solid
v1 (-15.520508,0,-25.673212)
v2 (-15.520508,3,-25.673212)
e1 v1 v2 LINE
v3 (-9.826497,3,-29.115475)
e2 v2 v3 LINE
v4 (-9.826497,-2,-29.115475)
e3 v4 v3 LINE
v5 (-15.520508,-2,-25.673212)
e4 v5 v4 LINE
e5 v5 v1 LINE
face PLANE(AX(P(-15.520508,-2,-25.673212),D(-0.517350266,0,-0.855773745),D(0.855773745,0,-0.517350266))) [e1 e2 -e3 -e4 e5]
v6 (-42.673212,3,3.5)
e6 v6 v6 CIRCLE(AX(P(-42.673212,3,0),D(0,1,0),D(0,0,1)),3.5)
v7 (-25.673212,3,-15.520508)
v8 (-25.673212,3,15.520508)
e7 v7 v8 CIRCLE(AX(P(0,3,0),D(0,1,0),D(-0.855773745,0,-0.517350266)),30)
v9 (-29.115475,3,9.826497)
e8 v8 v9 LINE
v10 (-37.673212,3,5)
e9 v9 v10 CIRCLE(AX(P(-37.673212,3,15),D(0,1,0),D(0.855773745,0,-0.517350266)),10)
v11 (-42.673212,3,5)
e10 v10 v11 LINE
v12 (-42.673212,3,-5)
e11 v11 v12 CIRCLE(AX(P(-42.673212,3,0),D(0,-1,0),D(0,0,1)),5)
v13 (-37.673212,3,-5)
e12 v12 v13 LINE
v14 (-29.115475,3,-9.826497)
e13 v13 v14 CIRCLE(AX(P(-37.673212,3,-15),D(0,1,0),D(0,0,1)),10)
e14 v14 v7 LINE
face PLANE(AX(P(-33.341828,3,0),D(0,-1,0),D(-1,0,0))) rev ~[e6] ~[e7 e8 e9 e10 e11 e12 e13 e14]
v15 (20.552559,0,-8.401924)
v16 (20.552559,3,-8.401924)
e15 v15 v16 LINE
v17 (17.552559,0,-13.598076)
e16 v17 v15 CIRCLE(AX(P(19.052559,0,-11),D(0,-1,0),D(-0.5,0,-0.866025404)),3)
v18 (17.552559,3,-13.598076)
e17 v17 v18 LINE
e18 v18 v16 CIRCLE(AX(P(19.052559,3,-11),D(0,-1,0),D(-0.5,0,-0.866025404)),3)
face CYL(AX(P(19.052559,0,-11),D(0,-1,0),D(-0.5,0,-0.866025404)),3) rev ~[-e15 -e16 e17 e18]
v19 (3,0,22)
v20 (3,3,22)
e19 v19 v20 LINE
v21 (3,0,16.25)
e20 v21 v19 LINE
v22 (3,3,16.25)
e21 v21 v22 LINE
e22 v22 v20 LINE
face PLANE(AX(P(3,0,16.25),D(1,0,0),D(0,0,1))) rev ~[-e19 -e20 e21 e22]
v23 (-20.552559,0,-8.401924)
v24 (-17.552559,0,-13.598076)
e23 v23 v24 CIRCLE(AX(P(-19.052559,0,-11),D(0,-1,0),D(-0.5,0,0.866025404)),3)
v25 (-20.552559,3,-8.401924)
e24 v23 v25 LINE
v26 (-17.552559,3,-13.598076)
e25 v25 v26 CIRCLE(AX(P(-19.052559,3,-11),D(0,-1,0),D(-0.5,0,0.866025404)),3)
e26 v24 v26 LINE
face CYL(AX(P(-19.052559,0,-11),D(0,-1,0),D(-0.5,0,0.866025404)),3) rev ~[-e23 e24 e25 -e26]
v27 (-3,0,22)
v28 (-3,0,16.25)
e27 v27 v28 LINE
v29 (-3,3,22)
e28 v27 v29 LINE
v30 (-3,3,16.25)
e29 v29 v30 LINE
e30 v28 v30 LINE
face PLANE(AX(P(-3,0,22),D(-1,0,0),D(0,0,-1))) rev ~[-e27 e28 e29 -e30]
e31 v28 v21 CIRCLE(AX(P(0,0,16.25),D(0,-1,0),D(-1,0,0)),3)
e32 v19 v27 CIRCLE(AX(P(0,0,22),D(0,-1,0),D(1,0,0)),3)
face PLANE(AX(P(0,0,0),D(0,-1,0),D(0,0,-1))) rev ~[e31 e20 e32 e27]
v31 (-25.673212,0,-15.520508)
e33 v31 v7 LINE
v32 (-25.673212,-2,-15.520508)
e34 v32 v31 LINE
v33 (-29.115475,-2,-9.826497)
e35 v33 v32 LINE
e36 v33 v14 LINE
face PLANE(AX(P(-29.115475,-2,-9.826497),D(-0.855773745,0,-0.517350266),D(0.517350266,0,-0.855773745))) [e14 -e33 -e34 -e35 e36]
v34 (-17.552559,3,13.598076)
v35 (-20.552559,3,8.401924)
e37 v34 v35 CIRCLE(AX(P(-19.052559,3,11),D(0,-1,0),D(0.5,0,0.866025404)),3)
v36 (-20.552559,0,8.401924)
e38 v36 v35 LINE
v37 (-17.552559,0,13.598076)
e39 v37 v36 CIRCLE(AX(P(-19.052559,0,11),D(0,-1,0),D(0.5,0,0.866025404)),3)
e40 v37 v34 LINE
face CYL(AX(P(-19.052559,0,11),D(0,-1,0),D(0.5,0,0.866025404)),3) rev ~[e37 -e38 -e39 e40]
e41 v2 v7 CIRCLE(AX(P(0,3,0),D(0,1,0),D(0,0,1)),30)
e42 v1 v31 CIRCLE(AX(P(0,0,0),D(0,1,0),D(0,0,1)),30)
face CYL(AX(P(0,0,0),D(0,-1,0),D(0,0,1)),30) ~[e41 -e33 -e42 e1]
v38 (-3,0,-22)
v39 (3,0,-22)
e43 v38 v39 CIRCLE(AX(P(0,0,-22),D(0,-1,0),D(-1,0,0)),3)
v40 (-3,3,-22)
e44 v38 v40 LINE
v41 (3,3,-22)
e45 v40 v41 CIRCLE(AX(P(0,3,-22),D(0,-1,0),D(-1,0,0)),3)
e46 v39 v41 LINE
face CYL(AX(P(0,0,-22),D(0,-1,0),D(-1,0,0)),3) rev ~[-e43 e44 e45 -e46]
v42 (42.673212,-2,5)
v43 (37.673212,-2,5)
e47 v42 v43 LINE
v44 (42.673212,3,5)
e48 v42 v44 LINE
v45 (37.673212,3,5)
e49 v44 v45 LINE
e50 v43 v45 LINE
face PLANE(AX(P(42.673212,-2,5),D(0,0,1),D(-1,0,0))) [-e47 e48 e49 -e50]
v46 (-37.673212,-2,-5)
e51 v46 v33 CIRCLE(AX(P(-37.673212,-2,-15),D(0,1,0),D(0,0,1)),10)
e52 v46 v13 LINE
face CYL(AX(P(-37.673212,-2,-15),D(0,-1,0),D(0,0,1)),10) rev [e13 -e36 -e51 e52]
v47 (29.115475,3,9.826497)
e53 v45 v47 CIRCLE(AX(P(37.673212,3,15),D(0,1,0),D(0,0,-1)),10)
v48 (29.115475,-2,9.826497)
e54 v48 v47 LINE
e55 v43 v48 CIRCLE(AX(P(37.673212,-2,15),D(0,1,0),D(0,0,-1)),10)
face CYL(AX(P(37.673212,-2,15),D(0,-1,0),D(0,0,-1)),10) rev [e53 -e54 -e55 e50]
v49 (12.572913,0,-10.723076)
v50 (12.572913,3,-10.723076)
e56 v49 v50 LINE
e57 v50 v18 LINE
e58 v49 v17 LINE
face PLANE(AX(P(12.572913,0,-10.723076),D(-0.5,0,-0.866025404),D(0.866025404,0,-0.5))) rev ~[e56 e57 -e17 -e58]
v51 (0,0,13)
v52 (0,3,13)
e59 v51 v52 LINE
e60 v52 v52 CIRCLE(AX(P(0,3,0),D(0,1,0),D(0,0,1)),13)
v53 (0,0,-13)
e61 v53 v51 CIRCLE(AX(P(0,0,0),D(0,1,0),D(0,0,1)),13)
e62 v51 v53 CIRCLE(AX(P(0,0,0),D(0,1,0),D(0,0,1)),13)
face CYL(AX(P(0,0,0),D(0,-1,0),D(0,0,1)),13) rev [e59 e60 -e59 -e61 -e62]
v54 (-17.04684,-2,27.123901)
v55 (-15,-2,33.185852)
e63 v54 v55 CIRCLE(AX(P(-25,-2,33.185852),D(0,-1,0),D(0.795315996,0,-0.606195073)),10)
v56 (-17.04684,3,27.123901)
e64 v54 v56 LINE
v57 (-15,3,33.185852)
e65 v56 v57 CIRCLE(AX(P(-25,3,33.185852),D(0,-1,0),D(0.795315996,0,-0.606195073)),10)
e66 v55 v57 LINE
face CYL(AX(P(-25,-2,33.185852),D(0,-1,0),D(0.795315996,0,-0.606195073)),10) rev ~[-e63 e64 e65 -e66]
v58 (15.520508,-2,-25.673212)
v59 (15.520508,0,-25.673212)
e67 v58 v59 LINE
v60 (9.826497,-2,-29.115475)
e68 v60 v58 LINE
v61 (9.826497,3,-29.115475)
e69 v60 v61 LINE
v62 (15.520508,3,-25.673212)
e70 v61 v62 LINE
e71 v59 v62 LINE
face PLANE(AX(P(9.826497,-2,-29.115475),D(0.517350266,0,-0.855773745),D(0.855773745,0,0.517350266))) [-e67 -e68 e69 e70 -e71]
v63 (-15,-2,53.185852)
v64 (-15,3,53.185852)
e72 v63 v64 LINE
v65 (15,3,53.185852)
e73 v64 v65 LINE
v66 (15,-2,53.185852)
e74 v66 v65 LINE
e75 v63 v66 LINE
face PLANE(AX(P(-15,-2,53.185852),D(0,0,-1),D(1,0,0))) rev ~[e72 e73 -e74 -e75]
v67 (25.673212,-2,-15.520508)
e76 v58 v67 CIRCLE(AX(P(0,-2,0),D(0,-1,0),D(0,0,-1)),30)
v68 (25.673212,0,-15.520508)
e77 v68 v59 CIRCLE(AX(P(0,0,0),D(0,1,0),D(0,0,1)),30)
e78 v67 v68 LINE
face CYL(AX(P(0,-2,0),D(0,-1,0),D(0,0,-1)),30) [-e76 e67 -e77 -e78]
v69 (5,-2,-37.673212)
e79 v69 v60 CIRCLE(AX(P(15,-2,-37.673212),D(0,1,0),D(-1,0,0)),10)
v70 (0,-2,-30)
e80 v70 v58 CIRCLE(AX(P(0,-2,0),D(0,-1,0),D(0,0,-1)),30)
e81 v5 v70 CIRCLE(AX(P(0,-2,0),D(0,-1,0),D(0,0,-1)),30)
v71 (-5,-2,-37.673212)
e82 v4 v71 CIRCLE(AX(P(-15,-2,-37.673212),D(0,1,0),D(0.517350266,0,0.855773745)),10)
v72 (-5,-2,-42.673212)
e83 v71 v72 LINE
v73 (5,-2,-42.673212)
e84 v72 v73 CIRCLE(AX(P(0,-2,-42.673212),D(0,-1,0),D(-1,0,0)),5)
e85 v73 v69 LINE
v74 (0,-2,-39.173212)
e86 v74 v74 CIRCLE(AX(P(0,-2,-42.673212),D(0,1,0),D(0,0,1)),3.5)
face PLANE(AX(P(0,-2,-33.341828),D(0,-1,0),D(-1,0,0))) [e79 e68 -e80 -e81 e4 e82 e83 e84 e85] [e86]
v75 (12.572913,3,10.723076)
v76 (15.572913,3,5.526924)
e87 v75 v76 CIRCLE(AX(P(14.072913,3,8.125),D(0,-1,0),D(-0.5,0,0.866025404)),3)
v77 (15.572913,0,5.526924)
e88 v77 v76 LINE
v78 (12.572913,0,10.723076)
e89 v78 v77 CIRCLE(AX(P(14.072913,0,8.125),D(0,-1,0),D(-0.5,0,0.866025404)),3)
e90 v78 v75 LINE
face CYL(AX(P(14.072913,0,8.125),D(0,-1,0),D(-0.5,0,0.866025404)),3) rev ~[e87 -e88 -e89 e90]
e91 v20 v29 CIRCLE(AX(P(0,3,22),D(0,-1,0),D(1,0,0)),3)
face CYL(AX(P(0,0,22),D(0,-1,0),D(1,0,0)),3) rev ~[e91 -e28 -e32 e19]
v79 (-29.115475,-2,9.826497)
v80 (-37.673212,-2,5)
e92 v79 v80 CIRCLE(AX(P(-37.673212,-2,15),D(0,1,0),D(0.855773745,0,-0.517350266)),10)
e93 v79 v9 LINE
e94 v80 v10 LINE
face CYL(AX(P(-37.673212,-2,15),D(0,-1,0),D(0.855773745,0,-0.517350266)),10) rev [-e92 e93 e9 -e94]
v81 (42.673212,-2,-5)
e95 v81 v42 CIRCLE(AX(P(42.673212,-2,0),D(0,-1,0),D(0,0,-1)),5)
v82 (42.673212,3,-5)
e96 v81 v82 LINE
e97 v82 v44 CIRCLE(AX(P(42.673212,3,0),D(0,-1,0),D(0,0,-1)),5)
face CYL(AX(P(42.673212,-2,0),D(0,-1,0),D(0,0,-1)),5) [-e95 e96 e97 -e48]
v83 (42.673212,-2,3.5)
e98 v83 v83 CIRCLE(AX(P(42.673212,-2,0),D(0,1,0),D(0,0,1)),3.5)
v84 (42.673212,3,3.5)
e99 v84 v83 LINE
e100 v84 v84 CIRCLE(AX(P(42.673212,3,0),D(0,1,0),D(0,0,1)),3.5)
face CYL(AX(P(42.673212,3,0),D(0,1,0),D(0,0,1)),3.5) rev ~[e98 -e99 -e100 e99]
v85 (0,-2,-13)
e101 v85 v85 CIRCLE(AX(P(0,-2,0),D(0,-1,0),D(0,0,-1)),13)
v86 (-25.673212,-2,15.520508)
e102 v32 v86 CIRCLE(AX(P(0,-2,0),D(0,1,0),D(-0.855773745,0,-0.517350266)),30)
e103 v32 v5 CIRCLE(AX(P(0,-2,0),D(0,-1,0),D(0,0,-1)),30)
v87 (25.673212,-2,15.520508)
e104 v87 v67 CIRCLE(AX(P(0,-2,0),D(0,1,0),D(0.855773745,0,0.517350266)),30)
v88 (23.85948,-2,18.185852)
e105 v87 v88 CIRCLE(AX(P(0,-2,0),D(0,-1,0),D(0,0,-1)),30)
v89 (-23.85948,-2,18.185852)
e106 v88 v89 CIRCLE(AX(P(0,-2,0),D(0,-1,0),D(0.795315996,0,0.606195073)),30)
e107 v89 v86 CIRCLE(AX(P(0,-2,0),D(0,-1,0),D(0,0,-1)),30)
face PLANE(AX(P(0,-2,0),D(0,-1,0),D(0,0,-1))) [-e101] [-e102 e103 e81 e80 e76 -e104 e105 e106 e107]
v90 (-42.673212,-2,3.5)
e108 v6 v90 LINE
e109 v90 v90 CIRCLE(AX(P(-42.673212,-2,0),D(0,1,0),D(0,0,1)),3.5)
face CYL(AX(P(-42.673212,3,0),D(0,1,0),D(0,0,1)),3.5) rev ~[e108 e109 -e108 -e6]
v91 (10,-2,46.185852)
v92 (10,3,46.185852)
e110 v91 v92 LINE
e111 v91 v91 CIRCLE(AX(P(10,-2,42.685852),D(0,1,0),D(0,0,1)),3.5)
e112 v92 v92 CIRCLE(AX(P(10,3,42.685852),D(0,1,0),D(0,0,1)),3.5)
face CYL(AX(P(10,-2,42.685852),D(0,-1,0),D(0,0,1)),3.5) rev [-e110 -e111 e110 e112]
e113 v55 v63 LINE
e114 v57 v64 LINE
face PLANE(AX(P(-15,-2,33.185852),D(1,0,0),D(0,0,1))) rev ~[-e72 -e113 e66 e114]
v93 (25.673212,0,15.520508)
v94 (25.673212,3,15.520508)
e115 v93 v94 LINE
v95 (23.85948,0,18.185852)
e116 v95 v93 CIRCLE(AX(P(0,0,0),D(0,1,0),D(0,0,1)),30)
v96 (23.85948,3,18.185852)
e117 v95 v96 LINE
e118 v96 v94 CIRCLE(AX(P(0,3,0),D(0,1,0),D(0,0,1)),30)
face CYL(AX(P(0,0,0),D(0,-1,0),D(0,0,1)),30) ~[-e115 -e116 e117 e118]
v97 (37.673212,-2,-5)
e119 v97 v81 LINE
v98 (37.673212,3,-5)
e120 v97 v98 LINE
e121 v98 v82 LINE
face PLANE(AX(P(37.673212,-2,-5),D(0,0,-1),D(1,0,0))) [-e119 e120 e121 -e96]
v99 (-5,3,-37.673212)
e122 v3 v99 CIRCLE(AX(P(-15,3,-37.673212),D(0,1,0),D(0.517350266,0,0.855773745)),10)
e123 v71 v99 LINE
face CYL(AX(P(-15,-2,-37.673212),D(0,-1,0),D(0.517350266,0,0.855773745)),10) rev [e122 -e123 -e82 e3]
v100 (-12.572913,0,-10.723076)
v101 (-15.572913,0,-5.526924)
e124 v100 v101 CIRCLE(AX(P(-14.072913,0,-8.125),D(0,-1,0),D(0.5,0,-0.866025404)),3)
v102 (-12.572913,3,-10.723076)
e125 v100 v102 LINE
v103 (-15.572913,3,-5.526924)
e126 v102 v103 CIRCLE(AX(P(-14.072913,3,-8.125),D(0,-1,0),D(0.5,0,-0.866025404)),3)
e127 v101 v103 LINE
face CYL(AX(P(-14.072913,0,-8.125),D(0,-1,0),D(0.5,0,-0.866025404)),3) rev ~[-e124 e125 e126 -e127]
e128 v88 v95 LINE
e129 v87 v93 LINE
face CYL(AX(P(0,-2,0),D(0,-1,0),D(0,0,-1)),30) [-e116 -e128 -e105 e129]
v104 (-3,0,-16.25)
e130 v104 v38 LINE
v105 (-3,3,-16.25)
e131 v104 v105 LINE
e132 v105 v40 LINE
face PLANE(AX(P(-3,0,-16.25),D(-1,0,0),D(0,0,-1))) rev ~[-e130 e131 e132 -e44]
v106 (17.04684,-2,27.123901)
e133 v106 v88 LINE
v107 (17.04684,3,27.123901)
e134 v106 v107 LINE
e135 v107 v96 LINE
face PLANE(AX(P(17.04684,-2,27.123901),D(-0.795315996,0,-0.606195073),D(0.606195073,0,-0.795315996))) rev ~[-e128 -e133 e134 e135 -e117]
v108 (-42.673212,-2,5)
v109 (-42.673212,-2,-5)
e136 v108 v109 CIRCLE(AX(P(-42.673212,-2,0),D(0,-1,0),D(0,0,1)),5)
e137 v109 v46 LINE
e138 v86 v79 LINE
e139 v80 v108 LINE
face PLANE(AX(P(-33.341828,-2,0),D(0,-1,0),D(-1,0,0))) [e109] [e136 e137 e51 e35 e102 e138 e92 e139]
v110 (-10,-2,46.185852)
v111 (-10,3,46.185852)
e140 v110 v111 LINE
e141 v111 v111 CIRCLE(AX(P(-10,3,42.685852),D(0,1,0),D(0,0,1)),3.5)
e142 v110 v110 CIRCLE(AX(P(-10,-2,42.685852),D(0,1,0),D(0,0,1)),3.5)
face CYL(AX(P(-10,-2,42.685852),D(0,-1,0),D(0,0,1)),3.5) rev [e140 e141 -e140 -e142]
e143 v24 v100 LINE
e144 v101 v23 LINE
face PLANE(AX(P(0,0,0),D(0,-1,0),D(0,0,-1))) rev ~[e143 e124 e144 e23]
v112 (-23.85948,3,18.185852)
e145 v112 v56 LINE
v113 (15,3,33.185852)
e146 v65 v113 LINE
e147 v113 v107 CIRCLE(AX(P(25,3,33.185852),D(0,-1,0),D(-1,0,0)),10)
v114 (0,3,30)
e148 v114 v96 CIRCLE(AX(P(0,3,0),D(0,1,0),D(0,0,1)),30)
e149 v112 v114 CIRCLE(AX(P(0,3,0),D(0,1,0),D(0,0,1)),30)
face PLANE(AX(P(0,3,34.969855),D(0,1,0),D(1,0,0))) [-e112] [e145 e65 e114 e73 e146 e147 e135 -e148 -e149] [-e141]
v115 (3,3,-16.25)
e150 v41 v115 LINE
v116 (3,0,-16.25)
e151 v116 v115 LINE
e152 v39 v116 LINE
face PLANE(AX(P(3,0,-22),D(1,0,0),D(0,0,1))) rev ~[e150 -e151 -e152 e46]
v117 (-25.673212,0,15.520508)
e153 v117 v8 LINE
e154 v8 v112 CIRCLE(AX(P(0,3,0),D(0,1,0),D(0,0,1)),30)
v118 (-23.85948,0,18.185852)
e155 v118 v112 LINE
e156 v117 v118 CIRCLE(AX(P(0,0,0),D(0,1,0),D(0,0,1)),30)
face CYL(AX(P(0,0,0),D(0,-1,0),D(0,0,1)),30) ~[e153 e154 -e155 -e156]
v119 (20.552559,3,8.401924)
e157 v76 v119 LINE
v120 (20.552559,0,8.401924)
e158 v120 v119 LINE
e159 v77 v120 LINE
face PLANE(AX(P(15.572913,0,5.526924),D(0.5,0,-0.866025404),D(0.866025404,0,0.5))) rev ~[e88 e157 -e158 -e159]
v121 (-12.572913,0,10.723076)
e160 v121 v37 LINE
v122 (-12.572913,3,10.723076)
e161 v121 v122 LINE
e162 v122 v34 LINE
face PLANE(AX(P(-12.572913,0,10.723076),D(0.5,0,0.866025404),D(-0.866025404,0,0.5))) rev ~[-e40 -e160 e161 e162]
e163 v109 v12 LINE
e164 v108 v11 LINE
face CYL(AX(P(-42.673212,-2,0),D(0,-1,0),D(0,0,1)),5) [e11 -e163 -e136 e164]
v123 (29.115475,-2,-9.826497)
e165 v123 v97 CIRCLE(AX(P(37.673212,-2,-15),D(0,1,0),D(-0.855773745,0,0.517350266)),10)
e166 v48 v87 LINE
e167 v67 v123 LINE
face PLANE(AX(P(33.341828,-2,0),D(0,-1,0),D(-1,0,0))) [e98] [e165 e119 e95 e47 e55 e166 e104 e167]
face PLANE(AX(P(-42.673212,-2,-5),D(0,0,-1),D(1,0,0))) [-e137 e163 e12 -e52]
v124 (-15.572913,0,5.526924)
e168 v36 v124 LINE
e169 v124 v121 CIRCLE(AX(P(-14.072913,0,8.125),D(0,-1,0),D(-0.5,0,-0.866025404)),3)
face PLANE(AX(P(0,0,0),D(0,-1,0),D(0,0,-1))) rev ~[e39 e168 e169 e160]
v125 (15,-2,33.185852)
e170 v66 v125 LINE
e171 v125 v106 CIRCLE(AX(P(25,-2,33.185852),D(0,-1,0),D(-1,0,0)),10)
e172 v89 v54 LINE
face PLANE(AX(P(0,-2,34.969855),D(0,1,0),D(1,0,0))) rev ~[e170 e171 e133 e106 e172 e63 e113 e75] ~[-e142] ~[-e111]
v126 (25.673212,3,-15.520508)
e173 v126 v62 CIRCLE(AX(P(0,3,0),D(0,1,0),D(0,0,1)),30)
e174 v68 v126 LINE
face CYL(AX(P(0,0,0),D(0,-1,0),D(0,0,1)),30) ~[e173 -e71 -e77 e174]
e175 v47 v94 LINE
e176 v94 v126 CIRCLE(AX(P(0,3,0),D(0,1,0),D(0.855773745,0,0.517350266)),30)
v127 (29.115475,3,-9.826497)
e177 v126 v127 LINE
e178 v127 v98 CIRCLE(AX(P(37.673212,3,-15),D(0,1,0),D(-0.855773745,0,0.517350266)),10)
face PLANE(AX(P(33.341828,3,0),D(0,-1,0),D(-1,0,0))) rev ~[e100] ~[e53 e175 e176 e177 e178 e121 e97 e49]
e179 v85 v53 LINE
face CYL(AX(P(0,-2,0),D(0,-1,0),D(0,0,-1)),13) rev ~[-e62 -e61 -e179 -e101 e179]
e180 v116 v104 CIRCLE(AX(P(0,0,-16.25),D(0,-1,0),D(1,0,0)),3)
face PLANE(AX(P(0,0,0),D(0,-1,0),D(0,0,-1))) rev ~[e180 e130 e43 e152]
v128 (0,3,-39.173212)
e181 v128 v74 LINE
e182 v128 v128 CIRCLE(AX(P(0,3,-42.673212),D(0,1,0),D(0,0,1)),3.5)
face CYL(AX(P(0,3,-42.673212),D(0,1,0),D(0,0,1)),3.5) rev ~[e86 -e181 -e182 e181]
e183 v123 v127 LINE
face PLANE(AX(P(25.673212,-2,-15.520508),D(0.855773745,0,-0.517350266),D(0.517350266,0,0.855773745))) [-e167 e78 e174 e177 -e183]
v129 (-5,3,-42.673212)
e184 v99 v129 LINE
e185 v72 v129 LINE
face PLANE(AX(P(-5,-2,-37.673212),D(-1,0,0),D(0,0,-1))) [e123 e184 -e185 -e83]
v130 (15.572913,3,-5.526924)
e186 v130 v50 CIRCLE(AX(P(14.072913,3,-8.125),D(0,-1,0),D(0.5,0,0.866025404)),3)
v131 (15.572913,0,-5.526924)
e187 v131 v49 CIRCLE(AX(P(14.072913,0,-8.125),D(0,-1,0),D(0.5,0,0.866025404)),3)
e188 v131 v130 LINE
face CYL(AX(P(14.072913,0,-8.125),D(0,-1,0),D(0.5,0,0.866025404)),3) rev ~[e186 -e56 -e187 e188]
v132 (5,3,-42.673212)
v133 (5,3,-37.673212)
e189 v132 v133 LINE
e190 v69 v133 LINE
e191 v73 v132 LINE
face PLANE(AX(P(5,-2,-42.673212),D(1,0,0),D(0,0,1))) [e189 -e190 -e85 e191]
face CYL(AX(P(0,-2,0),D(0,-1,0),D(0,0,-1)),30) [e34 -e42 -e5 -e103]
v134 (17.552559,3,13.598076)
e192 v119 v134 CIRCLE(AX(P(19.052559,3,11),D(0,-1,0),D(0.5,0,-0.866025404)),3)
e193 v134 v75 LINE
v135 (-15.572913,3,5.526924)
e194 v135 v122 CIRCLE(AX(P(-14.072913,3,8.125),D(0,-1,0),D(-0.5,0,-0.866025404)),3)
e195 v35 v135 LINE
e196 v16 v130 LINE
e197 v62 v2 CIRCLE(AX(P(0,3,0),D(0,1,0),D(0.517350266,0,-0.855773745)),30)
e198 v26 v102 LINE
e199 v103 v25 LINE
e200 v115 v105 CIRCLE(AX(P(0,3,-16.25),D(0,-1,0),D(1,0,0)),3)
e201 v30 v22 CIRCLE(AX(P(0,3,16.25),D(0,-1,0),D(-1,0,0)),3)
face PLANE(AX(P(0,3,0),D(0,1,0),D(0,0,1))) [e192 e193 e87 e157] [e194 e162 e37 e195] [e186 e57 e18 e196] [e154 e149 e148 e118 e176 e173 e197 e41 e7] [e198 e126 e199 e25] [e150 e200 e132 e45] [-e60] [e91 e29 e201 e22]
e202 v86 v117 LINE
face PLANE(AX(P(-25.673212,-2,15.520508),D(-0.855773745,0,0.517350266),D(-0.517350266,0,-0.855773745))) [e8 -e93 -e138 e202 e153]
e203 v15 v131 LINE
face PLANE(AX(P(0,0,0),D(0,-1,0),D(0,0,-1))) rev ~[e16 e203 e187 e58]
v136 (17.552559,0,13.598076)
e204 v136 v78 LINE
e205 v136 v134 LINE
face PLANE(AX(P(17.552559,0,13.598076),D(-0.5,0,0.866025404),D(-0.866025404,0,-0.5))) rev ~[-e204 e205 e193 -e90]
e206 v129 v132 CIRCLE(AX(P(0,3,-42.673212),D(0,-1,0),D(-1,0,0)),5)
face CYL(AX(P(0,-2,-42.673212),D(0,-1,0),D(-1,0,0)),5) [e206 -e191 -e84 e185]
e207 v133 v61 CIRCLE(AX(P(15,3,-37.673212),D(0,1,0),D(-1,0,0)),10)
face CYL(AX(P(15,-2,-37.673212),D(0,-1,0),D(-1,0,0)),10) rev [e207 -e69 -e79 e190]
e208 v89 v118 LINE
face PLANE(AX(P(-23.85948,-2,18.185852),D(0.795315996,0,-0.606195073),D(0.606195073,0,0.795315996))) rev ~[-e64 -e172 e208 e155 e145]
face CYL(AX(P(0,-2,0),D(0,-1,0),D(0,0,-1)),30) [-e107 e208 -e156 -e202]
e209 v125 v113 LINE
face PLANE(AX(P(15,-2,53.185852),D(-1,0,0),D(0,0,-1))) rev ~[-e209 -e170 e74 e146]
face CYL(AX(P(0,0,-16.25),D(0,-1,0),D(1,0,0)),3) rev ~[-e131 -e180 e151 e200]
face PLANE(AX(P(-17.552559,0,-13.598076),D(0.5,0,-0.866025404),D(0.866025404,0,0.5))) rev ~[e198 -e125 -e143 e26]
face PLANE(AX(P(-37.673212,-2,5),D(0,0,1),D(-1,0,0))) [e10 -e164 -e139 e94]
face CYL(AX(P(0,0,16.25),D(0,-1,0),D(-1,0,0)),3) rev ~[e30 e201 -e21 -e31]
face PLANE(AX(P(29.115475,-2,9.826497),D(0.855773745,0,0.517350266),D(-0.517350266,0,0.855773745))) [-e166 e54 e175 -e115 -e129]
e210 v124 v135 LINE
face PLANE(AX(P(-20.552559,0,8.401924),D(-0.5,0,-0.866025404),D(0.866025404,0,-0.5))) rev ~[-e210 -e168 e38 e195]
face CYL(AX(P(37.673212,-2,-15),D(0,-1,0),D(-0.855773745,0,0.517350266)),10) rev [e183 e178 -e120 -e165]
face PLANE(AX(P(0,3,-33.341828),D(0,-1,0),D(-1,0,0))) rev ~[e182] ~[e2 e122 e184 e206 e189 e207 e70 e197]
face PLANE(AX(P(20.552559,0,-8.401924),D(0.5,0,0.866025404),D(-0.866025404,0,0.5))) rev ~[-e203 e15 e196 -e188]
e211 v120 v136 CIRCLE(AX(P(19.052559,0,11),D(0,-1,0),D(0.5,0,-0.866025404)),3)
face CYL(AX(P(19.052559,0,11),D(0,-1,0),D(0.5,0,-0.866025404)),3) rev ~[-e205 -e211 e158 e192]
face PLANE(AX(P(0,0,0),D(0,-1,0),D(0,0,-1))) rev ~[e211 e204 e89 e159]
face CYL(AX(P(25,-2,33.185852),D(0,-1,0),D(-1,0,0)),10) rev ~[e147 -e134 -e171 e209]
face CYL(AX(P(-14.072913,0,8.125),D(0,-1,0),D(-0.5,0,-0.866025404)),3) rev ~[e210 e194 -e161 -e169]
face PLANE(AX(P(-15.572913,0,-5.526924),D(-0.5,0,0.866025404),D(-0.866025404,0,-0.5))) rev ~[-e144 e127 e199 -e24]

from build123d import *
from build123d.topology import SkipClean

# Parameters (mm, degrees)
ESQUISSE1_R             = 30
ESQUISSE1_R_2           = 13
BOSS_EXTRU_1_DEPTH      = 3
BOSS_EXTRU_2_START      = 2
ESQUISSE2_R             = 30
ESQUISSE2_R_2           = 13
BOSS_EXTRU_2_DEPTH      = 2
BOSS_EXTRU_3_START      = -5
ESQUISSE3_R             = 3.5
BOSS_EXTRU_3_DEPTH      = 5
ESQUISSE4_R             = 3.5
ENL_V_MAT_EXTRU_1_DEPTH = 72.599371852


with BuildPart() as part:
    # Esquisse1 → Boss.-Extru.1 (new body)
    with BuildSketch(Plane(origin=(0, 0, 0), x_dir=(1, 0, 0), z_dir=(0, 1, 0))):
        with Locations(Location((0, 0, 0), (0, 0, 270))):
            Circle(ESQUISSE1_R)
        with Locations(Location((0, 0, 0), (0, 0, 270))):
            Circle(ESQUISSE1_R_2, mode=Mode.SUBTRACT)
        with BuildLine():
            Line((-3, 16.25), (-3, 22))
            ThreePointArc((-3, 22), (0, 25), (3, 22))
            Line((3, 22), (3, 16.25))
            ThreePointArc((3, 16.25), (0, 13.25), (-3, 16.25))
        make_face(mode=Mode.SUBTRACT)
        with BuildLine():
            Line((12.572912811, 10.723076211), (17.552558883, 13.598076211))
            ThreePointArc((17.552558883, 13.598076211), (21.650635095, 12.5), (20.552558883, 8.401923789))
            Line((20.552558883, 8.401923789), (15.572912811, 5.526923789))
            ThreePointArc((15.572912811, 5.526923789), (11.4748366, 6.625), (12.572912811, 10.723076211))
        make_face(mode=Mode.SUBTRACT)
        with BuildLine():
            Line((15.572912811, -5.526923789), (20.552558883, -8.401923789))
            ThreePointArc((20.552558883, -8.401923789), (21.650635095, -12.5), (17.552558883, -13.598076211))
            Line((17.552558883, -13.598076211), (12.572912811, -10.723076211))
            ThreePointArc((12.572912811, -10.723076211), (11.4748366, -6.625), (15.572912811, -5.526923789))
        make_face(mode=Mode.SUBTRACT)
        with BuildLine():
            Line((3, -16.25), (3, -22))
            ThreePointArc((3, -22), (0, -25), (-3, -22))
            Line((-3, -22), (-3, -16.25))
            ThreePointArc((-3, -16.25), (0, -13.25), (3, -16.25))
        make_face(mode=Mode.SUBTRACT)
        with BuildLine():
            Line((-12.572912811, -10.723076211), (-17.552558883, -13.598076211))
            ThreePointArc((-17.552558883, -13.598076211), (-21.650635095, -12.5), (-20.552558883, -8.401923789))
            Line((-20.552558883, -8.401923789), (-15.572912811, -5.526923789))
            ThreePointArc((-15.572912811, -5.526923789), (-11.4748366, -6.625), (-12.572912811, -10.723076211))
        make_face(mode=Mode.SUBTRACT)
        with BuildLine():
            Line((-15.572912811, 5.526923789), (-20.552558883, 8.401923789))
            ThreePointArc((-20.552558883, 8.401923789), (-21.650635095, 12.5), (-17.552558883, 13.598076211))
            Line((-17.552558883, 13.598076211), (-12.572912811, 10.723076211))
            ThreePointArc((-12.572912811, 10.723076211), (-11.4748366, 6.625), (-15.572912811, 5.526923789))
        make_face(mode=Mode.SUBTRACT)
    extrude(amount=BOSS_EXTRU_1_DEPTH)

    # Esquisse2 → Boss.-Extru.2 (add)
    with BuildSketch(Plane.XZ.offset(BOSS_EXTRU_2_START)):
        with Locations(Location((0, 0, 0), (0, 0, 270))):
            Circle(ESQUISSE2_R)
        with Locations(Location((0, 0, 0), (0, 0, 270))):
            Circle(ESQUISSE2_R_2, mode=Mode.SUBTRACT)
    extrude(amount=-BOSS_EXTRU_2_DEPTH)

    # Esquisse3 → Boss.-Extru.3 (add)
    # profile 1 of 4: a face of its own
    with SkipClean():  # the faces are left unmerged after this step: merging them gives an invalid solid
        with BuildSketch(Plane(origin=(0, 3, 0), x_dir=(1, 0, 0), z_dir=(0, 1, 0)).offset(BOSS_EXTRU_3_START)):
            with BuildLine():
                Line((-15, -33.185852199), (-15, -53.185852199))
                Line((-15, -53.185852199), (15, -53.185852199))
                Line((15, -53.185852199), (15, -33.185852199))
                ThreePointArc((15, -33.185852199), (15.525518495, -29.986758544), (17.046840042, -27.123901466))
                Line((17.046840042, -27.123901466), (23.859479873, -18.185852199))
                ThreePointArc((23.859479873, -18.185852199), (0, -30), (-23.859479873, -18.185852199))
                Line((-23.859479873, -18.185852199), (-17.046840042, -27.123901466))
                ThreePointArc((-17.046840042, -27.123901466), (-15.525518495, -29.986758544), (-15, -33.185852199))
            make_face()
            with Locations(Location((-10, -42.685852199, 0), (0, 0, 270))):
                Circle(ESQUISSE3_R, mode=Mode.SUBTRACT)
            with Locations(Location((10, -42.685852199, 0), (0, 0, 270))):
                Circle(ESQUISSE3_R, mode=Mode.SUBTRACT)
        # profile 2 of 4: a face of its own
        with BuildSketch(Plane(origin=(0, 3, 0), x_dir=(1, 0, 0), z_dir=(0, 1, 0)).offset(BOSS_EXTRU_3_START)):
            with BuildLine():
                Line((37.673212347, 5), (42.673212347, 5))
                ThreePointArc((42.673212347, 5), (47.673212347, 0), (42.673212347, -5))
                Line((42.673212347, -5), (37.673212347, -5))
                ThreePointArc((37.673212347, -5), (32.760729603, -6.289804061), (29.115474898, -9.826497342))
                Line((29.115474898, -9.826497342), (25.673212347, -15.520507974))
                ThreePointArc((25.673212347, -15.520507974), (30, 0), (25.673212347, 15.520507974))
                Line((25.673212347, 15.520507974), (29.115474898, 9.826497342))
                ThreePointArc((29.115474898, 9.826497342), (32.760729603, 6.289804061), (37.673212347, 5))
            make_face()
        # profile 3 of 4: a face of its own
        with BuildSketch(Plane(origin=(0, 3, 0), x_dir=(1, 0, 0), z_dir=(0, 1, 0)).offset(BOSS_EXTRU_3_START)):
            with BuildLine():
                Line((-5, 37.673212347), (-5, 42.673212347))
                ThreePointArc((-5, 42.673212347), (0, 47.673212347), (5, 42.673212347))
                Line((5, 42.673212347), (5, 37.673212347))
                ThreePointArc((5, 37.673212347), (6.289804061, 32.760729603), (9.826497342, 29.115474898))
                Line((9.826497342, 29.115474898), (15.520507974, 25.673212347))
                ThreePointArc((15.520507974, 25.673212347), (0, 30), (-15.520507974, 25.673212347))
                Line((-15.520507974, 25.673212347), (-9.826497342, 29.115474898))
                ThreePointArc((-9.826497342, 29.115474898), (-6.289804061, 32.760729603), (-5, 37.673212347))
            make_face()
        # profile 4 of 4: a face of its own
        with BuildSketch(Plane(origin=(0, 3, 0), x_dir=(1, 0, 0), z_dir=(0, 1, 0)).offset(BOSS_EXTRU_3_START)):
            with BuildLine():
                Line((-37.673212347, -5), (-42.673212347, -5))
                ThreePointArc((-42.673212347, -5), (-47.673212347, 0), (-42.673212347, 5))
                Line((-42.673212347, 5), (-37.673212347, 5))
                ThreePointArc((-37.673212347, 5), (-32.760729603, 6.289804061), (-29.115474898, 9.826497342))
                Line((-29.115474898, 9.826497342), (-25.673212347, 15.520507974))
                ThreePointArc((-25.673212347, 15.520507974), (-30, 0), (-25.673212347, -15.520507974))
                Line((-25.673212347, -15.520507974), (-29.115474898, -9.826497342))
                ThreePointArc((-29.115474898, -9.826497342), (-32.760729603, -6.289804061), (-37.673212347, -5))
            make_face()
        extrude(amount=BOSS_EXTRU_3_DEPTH)

    # Esquisse4 → Enlèv. mat.-Extru.1 (cut, through all)
    with SkipClean():  # the faces are left unmerged after this step: merging them gives an invalid solid
        with BuildSketch(Plane(origin=(0, 3, 0), x_dir=(1, 0, 0), z_dir=(0, 1, 0))):
            with Locations(Location((-42.673212347, 0, 0), (0, 0, 270))):
                Circle(ESQUISSE4_R)
            with Locations(Location((42.673212347, 0, 0), (0, 0, 270))):
                Circle(ESQUISSE4_R)
            with Locations(Location((0, 42.673212347, 0), (0, 0, 270))):
                Circle(ESQUISSE4_R)
        extrude(amount=-ENL_V_MAT_EXTRU_1_DEPTH, mode=Mode.SUBTRACT)


solid = part.part
